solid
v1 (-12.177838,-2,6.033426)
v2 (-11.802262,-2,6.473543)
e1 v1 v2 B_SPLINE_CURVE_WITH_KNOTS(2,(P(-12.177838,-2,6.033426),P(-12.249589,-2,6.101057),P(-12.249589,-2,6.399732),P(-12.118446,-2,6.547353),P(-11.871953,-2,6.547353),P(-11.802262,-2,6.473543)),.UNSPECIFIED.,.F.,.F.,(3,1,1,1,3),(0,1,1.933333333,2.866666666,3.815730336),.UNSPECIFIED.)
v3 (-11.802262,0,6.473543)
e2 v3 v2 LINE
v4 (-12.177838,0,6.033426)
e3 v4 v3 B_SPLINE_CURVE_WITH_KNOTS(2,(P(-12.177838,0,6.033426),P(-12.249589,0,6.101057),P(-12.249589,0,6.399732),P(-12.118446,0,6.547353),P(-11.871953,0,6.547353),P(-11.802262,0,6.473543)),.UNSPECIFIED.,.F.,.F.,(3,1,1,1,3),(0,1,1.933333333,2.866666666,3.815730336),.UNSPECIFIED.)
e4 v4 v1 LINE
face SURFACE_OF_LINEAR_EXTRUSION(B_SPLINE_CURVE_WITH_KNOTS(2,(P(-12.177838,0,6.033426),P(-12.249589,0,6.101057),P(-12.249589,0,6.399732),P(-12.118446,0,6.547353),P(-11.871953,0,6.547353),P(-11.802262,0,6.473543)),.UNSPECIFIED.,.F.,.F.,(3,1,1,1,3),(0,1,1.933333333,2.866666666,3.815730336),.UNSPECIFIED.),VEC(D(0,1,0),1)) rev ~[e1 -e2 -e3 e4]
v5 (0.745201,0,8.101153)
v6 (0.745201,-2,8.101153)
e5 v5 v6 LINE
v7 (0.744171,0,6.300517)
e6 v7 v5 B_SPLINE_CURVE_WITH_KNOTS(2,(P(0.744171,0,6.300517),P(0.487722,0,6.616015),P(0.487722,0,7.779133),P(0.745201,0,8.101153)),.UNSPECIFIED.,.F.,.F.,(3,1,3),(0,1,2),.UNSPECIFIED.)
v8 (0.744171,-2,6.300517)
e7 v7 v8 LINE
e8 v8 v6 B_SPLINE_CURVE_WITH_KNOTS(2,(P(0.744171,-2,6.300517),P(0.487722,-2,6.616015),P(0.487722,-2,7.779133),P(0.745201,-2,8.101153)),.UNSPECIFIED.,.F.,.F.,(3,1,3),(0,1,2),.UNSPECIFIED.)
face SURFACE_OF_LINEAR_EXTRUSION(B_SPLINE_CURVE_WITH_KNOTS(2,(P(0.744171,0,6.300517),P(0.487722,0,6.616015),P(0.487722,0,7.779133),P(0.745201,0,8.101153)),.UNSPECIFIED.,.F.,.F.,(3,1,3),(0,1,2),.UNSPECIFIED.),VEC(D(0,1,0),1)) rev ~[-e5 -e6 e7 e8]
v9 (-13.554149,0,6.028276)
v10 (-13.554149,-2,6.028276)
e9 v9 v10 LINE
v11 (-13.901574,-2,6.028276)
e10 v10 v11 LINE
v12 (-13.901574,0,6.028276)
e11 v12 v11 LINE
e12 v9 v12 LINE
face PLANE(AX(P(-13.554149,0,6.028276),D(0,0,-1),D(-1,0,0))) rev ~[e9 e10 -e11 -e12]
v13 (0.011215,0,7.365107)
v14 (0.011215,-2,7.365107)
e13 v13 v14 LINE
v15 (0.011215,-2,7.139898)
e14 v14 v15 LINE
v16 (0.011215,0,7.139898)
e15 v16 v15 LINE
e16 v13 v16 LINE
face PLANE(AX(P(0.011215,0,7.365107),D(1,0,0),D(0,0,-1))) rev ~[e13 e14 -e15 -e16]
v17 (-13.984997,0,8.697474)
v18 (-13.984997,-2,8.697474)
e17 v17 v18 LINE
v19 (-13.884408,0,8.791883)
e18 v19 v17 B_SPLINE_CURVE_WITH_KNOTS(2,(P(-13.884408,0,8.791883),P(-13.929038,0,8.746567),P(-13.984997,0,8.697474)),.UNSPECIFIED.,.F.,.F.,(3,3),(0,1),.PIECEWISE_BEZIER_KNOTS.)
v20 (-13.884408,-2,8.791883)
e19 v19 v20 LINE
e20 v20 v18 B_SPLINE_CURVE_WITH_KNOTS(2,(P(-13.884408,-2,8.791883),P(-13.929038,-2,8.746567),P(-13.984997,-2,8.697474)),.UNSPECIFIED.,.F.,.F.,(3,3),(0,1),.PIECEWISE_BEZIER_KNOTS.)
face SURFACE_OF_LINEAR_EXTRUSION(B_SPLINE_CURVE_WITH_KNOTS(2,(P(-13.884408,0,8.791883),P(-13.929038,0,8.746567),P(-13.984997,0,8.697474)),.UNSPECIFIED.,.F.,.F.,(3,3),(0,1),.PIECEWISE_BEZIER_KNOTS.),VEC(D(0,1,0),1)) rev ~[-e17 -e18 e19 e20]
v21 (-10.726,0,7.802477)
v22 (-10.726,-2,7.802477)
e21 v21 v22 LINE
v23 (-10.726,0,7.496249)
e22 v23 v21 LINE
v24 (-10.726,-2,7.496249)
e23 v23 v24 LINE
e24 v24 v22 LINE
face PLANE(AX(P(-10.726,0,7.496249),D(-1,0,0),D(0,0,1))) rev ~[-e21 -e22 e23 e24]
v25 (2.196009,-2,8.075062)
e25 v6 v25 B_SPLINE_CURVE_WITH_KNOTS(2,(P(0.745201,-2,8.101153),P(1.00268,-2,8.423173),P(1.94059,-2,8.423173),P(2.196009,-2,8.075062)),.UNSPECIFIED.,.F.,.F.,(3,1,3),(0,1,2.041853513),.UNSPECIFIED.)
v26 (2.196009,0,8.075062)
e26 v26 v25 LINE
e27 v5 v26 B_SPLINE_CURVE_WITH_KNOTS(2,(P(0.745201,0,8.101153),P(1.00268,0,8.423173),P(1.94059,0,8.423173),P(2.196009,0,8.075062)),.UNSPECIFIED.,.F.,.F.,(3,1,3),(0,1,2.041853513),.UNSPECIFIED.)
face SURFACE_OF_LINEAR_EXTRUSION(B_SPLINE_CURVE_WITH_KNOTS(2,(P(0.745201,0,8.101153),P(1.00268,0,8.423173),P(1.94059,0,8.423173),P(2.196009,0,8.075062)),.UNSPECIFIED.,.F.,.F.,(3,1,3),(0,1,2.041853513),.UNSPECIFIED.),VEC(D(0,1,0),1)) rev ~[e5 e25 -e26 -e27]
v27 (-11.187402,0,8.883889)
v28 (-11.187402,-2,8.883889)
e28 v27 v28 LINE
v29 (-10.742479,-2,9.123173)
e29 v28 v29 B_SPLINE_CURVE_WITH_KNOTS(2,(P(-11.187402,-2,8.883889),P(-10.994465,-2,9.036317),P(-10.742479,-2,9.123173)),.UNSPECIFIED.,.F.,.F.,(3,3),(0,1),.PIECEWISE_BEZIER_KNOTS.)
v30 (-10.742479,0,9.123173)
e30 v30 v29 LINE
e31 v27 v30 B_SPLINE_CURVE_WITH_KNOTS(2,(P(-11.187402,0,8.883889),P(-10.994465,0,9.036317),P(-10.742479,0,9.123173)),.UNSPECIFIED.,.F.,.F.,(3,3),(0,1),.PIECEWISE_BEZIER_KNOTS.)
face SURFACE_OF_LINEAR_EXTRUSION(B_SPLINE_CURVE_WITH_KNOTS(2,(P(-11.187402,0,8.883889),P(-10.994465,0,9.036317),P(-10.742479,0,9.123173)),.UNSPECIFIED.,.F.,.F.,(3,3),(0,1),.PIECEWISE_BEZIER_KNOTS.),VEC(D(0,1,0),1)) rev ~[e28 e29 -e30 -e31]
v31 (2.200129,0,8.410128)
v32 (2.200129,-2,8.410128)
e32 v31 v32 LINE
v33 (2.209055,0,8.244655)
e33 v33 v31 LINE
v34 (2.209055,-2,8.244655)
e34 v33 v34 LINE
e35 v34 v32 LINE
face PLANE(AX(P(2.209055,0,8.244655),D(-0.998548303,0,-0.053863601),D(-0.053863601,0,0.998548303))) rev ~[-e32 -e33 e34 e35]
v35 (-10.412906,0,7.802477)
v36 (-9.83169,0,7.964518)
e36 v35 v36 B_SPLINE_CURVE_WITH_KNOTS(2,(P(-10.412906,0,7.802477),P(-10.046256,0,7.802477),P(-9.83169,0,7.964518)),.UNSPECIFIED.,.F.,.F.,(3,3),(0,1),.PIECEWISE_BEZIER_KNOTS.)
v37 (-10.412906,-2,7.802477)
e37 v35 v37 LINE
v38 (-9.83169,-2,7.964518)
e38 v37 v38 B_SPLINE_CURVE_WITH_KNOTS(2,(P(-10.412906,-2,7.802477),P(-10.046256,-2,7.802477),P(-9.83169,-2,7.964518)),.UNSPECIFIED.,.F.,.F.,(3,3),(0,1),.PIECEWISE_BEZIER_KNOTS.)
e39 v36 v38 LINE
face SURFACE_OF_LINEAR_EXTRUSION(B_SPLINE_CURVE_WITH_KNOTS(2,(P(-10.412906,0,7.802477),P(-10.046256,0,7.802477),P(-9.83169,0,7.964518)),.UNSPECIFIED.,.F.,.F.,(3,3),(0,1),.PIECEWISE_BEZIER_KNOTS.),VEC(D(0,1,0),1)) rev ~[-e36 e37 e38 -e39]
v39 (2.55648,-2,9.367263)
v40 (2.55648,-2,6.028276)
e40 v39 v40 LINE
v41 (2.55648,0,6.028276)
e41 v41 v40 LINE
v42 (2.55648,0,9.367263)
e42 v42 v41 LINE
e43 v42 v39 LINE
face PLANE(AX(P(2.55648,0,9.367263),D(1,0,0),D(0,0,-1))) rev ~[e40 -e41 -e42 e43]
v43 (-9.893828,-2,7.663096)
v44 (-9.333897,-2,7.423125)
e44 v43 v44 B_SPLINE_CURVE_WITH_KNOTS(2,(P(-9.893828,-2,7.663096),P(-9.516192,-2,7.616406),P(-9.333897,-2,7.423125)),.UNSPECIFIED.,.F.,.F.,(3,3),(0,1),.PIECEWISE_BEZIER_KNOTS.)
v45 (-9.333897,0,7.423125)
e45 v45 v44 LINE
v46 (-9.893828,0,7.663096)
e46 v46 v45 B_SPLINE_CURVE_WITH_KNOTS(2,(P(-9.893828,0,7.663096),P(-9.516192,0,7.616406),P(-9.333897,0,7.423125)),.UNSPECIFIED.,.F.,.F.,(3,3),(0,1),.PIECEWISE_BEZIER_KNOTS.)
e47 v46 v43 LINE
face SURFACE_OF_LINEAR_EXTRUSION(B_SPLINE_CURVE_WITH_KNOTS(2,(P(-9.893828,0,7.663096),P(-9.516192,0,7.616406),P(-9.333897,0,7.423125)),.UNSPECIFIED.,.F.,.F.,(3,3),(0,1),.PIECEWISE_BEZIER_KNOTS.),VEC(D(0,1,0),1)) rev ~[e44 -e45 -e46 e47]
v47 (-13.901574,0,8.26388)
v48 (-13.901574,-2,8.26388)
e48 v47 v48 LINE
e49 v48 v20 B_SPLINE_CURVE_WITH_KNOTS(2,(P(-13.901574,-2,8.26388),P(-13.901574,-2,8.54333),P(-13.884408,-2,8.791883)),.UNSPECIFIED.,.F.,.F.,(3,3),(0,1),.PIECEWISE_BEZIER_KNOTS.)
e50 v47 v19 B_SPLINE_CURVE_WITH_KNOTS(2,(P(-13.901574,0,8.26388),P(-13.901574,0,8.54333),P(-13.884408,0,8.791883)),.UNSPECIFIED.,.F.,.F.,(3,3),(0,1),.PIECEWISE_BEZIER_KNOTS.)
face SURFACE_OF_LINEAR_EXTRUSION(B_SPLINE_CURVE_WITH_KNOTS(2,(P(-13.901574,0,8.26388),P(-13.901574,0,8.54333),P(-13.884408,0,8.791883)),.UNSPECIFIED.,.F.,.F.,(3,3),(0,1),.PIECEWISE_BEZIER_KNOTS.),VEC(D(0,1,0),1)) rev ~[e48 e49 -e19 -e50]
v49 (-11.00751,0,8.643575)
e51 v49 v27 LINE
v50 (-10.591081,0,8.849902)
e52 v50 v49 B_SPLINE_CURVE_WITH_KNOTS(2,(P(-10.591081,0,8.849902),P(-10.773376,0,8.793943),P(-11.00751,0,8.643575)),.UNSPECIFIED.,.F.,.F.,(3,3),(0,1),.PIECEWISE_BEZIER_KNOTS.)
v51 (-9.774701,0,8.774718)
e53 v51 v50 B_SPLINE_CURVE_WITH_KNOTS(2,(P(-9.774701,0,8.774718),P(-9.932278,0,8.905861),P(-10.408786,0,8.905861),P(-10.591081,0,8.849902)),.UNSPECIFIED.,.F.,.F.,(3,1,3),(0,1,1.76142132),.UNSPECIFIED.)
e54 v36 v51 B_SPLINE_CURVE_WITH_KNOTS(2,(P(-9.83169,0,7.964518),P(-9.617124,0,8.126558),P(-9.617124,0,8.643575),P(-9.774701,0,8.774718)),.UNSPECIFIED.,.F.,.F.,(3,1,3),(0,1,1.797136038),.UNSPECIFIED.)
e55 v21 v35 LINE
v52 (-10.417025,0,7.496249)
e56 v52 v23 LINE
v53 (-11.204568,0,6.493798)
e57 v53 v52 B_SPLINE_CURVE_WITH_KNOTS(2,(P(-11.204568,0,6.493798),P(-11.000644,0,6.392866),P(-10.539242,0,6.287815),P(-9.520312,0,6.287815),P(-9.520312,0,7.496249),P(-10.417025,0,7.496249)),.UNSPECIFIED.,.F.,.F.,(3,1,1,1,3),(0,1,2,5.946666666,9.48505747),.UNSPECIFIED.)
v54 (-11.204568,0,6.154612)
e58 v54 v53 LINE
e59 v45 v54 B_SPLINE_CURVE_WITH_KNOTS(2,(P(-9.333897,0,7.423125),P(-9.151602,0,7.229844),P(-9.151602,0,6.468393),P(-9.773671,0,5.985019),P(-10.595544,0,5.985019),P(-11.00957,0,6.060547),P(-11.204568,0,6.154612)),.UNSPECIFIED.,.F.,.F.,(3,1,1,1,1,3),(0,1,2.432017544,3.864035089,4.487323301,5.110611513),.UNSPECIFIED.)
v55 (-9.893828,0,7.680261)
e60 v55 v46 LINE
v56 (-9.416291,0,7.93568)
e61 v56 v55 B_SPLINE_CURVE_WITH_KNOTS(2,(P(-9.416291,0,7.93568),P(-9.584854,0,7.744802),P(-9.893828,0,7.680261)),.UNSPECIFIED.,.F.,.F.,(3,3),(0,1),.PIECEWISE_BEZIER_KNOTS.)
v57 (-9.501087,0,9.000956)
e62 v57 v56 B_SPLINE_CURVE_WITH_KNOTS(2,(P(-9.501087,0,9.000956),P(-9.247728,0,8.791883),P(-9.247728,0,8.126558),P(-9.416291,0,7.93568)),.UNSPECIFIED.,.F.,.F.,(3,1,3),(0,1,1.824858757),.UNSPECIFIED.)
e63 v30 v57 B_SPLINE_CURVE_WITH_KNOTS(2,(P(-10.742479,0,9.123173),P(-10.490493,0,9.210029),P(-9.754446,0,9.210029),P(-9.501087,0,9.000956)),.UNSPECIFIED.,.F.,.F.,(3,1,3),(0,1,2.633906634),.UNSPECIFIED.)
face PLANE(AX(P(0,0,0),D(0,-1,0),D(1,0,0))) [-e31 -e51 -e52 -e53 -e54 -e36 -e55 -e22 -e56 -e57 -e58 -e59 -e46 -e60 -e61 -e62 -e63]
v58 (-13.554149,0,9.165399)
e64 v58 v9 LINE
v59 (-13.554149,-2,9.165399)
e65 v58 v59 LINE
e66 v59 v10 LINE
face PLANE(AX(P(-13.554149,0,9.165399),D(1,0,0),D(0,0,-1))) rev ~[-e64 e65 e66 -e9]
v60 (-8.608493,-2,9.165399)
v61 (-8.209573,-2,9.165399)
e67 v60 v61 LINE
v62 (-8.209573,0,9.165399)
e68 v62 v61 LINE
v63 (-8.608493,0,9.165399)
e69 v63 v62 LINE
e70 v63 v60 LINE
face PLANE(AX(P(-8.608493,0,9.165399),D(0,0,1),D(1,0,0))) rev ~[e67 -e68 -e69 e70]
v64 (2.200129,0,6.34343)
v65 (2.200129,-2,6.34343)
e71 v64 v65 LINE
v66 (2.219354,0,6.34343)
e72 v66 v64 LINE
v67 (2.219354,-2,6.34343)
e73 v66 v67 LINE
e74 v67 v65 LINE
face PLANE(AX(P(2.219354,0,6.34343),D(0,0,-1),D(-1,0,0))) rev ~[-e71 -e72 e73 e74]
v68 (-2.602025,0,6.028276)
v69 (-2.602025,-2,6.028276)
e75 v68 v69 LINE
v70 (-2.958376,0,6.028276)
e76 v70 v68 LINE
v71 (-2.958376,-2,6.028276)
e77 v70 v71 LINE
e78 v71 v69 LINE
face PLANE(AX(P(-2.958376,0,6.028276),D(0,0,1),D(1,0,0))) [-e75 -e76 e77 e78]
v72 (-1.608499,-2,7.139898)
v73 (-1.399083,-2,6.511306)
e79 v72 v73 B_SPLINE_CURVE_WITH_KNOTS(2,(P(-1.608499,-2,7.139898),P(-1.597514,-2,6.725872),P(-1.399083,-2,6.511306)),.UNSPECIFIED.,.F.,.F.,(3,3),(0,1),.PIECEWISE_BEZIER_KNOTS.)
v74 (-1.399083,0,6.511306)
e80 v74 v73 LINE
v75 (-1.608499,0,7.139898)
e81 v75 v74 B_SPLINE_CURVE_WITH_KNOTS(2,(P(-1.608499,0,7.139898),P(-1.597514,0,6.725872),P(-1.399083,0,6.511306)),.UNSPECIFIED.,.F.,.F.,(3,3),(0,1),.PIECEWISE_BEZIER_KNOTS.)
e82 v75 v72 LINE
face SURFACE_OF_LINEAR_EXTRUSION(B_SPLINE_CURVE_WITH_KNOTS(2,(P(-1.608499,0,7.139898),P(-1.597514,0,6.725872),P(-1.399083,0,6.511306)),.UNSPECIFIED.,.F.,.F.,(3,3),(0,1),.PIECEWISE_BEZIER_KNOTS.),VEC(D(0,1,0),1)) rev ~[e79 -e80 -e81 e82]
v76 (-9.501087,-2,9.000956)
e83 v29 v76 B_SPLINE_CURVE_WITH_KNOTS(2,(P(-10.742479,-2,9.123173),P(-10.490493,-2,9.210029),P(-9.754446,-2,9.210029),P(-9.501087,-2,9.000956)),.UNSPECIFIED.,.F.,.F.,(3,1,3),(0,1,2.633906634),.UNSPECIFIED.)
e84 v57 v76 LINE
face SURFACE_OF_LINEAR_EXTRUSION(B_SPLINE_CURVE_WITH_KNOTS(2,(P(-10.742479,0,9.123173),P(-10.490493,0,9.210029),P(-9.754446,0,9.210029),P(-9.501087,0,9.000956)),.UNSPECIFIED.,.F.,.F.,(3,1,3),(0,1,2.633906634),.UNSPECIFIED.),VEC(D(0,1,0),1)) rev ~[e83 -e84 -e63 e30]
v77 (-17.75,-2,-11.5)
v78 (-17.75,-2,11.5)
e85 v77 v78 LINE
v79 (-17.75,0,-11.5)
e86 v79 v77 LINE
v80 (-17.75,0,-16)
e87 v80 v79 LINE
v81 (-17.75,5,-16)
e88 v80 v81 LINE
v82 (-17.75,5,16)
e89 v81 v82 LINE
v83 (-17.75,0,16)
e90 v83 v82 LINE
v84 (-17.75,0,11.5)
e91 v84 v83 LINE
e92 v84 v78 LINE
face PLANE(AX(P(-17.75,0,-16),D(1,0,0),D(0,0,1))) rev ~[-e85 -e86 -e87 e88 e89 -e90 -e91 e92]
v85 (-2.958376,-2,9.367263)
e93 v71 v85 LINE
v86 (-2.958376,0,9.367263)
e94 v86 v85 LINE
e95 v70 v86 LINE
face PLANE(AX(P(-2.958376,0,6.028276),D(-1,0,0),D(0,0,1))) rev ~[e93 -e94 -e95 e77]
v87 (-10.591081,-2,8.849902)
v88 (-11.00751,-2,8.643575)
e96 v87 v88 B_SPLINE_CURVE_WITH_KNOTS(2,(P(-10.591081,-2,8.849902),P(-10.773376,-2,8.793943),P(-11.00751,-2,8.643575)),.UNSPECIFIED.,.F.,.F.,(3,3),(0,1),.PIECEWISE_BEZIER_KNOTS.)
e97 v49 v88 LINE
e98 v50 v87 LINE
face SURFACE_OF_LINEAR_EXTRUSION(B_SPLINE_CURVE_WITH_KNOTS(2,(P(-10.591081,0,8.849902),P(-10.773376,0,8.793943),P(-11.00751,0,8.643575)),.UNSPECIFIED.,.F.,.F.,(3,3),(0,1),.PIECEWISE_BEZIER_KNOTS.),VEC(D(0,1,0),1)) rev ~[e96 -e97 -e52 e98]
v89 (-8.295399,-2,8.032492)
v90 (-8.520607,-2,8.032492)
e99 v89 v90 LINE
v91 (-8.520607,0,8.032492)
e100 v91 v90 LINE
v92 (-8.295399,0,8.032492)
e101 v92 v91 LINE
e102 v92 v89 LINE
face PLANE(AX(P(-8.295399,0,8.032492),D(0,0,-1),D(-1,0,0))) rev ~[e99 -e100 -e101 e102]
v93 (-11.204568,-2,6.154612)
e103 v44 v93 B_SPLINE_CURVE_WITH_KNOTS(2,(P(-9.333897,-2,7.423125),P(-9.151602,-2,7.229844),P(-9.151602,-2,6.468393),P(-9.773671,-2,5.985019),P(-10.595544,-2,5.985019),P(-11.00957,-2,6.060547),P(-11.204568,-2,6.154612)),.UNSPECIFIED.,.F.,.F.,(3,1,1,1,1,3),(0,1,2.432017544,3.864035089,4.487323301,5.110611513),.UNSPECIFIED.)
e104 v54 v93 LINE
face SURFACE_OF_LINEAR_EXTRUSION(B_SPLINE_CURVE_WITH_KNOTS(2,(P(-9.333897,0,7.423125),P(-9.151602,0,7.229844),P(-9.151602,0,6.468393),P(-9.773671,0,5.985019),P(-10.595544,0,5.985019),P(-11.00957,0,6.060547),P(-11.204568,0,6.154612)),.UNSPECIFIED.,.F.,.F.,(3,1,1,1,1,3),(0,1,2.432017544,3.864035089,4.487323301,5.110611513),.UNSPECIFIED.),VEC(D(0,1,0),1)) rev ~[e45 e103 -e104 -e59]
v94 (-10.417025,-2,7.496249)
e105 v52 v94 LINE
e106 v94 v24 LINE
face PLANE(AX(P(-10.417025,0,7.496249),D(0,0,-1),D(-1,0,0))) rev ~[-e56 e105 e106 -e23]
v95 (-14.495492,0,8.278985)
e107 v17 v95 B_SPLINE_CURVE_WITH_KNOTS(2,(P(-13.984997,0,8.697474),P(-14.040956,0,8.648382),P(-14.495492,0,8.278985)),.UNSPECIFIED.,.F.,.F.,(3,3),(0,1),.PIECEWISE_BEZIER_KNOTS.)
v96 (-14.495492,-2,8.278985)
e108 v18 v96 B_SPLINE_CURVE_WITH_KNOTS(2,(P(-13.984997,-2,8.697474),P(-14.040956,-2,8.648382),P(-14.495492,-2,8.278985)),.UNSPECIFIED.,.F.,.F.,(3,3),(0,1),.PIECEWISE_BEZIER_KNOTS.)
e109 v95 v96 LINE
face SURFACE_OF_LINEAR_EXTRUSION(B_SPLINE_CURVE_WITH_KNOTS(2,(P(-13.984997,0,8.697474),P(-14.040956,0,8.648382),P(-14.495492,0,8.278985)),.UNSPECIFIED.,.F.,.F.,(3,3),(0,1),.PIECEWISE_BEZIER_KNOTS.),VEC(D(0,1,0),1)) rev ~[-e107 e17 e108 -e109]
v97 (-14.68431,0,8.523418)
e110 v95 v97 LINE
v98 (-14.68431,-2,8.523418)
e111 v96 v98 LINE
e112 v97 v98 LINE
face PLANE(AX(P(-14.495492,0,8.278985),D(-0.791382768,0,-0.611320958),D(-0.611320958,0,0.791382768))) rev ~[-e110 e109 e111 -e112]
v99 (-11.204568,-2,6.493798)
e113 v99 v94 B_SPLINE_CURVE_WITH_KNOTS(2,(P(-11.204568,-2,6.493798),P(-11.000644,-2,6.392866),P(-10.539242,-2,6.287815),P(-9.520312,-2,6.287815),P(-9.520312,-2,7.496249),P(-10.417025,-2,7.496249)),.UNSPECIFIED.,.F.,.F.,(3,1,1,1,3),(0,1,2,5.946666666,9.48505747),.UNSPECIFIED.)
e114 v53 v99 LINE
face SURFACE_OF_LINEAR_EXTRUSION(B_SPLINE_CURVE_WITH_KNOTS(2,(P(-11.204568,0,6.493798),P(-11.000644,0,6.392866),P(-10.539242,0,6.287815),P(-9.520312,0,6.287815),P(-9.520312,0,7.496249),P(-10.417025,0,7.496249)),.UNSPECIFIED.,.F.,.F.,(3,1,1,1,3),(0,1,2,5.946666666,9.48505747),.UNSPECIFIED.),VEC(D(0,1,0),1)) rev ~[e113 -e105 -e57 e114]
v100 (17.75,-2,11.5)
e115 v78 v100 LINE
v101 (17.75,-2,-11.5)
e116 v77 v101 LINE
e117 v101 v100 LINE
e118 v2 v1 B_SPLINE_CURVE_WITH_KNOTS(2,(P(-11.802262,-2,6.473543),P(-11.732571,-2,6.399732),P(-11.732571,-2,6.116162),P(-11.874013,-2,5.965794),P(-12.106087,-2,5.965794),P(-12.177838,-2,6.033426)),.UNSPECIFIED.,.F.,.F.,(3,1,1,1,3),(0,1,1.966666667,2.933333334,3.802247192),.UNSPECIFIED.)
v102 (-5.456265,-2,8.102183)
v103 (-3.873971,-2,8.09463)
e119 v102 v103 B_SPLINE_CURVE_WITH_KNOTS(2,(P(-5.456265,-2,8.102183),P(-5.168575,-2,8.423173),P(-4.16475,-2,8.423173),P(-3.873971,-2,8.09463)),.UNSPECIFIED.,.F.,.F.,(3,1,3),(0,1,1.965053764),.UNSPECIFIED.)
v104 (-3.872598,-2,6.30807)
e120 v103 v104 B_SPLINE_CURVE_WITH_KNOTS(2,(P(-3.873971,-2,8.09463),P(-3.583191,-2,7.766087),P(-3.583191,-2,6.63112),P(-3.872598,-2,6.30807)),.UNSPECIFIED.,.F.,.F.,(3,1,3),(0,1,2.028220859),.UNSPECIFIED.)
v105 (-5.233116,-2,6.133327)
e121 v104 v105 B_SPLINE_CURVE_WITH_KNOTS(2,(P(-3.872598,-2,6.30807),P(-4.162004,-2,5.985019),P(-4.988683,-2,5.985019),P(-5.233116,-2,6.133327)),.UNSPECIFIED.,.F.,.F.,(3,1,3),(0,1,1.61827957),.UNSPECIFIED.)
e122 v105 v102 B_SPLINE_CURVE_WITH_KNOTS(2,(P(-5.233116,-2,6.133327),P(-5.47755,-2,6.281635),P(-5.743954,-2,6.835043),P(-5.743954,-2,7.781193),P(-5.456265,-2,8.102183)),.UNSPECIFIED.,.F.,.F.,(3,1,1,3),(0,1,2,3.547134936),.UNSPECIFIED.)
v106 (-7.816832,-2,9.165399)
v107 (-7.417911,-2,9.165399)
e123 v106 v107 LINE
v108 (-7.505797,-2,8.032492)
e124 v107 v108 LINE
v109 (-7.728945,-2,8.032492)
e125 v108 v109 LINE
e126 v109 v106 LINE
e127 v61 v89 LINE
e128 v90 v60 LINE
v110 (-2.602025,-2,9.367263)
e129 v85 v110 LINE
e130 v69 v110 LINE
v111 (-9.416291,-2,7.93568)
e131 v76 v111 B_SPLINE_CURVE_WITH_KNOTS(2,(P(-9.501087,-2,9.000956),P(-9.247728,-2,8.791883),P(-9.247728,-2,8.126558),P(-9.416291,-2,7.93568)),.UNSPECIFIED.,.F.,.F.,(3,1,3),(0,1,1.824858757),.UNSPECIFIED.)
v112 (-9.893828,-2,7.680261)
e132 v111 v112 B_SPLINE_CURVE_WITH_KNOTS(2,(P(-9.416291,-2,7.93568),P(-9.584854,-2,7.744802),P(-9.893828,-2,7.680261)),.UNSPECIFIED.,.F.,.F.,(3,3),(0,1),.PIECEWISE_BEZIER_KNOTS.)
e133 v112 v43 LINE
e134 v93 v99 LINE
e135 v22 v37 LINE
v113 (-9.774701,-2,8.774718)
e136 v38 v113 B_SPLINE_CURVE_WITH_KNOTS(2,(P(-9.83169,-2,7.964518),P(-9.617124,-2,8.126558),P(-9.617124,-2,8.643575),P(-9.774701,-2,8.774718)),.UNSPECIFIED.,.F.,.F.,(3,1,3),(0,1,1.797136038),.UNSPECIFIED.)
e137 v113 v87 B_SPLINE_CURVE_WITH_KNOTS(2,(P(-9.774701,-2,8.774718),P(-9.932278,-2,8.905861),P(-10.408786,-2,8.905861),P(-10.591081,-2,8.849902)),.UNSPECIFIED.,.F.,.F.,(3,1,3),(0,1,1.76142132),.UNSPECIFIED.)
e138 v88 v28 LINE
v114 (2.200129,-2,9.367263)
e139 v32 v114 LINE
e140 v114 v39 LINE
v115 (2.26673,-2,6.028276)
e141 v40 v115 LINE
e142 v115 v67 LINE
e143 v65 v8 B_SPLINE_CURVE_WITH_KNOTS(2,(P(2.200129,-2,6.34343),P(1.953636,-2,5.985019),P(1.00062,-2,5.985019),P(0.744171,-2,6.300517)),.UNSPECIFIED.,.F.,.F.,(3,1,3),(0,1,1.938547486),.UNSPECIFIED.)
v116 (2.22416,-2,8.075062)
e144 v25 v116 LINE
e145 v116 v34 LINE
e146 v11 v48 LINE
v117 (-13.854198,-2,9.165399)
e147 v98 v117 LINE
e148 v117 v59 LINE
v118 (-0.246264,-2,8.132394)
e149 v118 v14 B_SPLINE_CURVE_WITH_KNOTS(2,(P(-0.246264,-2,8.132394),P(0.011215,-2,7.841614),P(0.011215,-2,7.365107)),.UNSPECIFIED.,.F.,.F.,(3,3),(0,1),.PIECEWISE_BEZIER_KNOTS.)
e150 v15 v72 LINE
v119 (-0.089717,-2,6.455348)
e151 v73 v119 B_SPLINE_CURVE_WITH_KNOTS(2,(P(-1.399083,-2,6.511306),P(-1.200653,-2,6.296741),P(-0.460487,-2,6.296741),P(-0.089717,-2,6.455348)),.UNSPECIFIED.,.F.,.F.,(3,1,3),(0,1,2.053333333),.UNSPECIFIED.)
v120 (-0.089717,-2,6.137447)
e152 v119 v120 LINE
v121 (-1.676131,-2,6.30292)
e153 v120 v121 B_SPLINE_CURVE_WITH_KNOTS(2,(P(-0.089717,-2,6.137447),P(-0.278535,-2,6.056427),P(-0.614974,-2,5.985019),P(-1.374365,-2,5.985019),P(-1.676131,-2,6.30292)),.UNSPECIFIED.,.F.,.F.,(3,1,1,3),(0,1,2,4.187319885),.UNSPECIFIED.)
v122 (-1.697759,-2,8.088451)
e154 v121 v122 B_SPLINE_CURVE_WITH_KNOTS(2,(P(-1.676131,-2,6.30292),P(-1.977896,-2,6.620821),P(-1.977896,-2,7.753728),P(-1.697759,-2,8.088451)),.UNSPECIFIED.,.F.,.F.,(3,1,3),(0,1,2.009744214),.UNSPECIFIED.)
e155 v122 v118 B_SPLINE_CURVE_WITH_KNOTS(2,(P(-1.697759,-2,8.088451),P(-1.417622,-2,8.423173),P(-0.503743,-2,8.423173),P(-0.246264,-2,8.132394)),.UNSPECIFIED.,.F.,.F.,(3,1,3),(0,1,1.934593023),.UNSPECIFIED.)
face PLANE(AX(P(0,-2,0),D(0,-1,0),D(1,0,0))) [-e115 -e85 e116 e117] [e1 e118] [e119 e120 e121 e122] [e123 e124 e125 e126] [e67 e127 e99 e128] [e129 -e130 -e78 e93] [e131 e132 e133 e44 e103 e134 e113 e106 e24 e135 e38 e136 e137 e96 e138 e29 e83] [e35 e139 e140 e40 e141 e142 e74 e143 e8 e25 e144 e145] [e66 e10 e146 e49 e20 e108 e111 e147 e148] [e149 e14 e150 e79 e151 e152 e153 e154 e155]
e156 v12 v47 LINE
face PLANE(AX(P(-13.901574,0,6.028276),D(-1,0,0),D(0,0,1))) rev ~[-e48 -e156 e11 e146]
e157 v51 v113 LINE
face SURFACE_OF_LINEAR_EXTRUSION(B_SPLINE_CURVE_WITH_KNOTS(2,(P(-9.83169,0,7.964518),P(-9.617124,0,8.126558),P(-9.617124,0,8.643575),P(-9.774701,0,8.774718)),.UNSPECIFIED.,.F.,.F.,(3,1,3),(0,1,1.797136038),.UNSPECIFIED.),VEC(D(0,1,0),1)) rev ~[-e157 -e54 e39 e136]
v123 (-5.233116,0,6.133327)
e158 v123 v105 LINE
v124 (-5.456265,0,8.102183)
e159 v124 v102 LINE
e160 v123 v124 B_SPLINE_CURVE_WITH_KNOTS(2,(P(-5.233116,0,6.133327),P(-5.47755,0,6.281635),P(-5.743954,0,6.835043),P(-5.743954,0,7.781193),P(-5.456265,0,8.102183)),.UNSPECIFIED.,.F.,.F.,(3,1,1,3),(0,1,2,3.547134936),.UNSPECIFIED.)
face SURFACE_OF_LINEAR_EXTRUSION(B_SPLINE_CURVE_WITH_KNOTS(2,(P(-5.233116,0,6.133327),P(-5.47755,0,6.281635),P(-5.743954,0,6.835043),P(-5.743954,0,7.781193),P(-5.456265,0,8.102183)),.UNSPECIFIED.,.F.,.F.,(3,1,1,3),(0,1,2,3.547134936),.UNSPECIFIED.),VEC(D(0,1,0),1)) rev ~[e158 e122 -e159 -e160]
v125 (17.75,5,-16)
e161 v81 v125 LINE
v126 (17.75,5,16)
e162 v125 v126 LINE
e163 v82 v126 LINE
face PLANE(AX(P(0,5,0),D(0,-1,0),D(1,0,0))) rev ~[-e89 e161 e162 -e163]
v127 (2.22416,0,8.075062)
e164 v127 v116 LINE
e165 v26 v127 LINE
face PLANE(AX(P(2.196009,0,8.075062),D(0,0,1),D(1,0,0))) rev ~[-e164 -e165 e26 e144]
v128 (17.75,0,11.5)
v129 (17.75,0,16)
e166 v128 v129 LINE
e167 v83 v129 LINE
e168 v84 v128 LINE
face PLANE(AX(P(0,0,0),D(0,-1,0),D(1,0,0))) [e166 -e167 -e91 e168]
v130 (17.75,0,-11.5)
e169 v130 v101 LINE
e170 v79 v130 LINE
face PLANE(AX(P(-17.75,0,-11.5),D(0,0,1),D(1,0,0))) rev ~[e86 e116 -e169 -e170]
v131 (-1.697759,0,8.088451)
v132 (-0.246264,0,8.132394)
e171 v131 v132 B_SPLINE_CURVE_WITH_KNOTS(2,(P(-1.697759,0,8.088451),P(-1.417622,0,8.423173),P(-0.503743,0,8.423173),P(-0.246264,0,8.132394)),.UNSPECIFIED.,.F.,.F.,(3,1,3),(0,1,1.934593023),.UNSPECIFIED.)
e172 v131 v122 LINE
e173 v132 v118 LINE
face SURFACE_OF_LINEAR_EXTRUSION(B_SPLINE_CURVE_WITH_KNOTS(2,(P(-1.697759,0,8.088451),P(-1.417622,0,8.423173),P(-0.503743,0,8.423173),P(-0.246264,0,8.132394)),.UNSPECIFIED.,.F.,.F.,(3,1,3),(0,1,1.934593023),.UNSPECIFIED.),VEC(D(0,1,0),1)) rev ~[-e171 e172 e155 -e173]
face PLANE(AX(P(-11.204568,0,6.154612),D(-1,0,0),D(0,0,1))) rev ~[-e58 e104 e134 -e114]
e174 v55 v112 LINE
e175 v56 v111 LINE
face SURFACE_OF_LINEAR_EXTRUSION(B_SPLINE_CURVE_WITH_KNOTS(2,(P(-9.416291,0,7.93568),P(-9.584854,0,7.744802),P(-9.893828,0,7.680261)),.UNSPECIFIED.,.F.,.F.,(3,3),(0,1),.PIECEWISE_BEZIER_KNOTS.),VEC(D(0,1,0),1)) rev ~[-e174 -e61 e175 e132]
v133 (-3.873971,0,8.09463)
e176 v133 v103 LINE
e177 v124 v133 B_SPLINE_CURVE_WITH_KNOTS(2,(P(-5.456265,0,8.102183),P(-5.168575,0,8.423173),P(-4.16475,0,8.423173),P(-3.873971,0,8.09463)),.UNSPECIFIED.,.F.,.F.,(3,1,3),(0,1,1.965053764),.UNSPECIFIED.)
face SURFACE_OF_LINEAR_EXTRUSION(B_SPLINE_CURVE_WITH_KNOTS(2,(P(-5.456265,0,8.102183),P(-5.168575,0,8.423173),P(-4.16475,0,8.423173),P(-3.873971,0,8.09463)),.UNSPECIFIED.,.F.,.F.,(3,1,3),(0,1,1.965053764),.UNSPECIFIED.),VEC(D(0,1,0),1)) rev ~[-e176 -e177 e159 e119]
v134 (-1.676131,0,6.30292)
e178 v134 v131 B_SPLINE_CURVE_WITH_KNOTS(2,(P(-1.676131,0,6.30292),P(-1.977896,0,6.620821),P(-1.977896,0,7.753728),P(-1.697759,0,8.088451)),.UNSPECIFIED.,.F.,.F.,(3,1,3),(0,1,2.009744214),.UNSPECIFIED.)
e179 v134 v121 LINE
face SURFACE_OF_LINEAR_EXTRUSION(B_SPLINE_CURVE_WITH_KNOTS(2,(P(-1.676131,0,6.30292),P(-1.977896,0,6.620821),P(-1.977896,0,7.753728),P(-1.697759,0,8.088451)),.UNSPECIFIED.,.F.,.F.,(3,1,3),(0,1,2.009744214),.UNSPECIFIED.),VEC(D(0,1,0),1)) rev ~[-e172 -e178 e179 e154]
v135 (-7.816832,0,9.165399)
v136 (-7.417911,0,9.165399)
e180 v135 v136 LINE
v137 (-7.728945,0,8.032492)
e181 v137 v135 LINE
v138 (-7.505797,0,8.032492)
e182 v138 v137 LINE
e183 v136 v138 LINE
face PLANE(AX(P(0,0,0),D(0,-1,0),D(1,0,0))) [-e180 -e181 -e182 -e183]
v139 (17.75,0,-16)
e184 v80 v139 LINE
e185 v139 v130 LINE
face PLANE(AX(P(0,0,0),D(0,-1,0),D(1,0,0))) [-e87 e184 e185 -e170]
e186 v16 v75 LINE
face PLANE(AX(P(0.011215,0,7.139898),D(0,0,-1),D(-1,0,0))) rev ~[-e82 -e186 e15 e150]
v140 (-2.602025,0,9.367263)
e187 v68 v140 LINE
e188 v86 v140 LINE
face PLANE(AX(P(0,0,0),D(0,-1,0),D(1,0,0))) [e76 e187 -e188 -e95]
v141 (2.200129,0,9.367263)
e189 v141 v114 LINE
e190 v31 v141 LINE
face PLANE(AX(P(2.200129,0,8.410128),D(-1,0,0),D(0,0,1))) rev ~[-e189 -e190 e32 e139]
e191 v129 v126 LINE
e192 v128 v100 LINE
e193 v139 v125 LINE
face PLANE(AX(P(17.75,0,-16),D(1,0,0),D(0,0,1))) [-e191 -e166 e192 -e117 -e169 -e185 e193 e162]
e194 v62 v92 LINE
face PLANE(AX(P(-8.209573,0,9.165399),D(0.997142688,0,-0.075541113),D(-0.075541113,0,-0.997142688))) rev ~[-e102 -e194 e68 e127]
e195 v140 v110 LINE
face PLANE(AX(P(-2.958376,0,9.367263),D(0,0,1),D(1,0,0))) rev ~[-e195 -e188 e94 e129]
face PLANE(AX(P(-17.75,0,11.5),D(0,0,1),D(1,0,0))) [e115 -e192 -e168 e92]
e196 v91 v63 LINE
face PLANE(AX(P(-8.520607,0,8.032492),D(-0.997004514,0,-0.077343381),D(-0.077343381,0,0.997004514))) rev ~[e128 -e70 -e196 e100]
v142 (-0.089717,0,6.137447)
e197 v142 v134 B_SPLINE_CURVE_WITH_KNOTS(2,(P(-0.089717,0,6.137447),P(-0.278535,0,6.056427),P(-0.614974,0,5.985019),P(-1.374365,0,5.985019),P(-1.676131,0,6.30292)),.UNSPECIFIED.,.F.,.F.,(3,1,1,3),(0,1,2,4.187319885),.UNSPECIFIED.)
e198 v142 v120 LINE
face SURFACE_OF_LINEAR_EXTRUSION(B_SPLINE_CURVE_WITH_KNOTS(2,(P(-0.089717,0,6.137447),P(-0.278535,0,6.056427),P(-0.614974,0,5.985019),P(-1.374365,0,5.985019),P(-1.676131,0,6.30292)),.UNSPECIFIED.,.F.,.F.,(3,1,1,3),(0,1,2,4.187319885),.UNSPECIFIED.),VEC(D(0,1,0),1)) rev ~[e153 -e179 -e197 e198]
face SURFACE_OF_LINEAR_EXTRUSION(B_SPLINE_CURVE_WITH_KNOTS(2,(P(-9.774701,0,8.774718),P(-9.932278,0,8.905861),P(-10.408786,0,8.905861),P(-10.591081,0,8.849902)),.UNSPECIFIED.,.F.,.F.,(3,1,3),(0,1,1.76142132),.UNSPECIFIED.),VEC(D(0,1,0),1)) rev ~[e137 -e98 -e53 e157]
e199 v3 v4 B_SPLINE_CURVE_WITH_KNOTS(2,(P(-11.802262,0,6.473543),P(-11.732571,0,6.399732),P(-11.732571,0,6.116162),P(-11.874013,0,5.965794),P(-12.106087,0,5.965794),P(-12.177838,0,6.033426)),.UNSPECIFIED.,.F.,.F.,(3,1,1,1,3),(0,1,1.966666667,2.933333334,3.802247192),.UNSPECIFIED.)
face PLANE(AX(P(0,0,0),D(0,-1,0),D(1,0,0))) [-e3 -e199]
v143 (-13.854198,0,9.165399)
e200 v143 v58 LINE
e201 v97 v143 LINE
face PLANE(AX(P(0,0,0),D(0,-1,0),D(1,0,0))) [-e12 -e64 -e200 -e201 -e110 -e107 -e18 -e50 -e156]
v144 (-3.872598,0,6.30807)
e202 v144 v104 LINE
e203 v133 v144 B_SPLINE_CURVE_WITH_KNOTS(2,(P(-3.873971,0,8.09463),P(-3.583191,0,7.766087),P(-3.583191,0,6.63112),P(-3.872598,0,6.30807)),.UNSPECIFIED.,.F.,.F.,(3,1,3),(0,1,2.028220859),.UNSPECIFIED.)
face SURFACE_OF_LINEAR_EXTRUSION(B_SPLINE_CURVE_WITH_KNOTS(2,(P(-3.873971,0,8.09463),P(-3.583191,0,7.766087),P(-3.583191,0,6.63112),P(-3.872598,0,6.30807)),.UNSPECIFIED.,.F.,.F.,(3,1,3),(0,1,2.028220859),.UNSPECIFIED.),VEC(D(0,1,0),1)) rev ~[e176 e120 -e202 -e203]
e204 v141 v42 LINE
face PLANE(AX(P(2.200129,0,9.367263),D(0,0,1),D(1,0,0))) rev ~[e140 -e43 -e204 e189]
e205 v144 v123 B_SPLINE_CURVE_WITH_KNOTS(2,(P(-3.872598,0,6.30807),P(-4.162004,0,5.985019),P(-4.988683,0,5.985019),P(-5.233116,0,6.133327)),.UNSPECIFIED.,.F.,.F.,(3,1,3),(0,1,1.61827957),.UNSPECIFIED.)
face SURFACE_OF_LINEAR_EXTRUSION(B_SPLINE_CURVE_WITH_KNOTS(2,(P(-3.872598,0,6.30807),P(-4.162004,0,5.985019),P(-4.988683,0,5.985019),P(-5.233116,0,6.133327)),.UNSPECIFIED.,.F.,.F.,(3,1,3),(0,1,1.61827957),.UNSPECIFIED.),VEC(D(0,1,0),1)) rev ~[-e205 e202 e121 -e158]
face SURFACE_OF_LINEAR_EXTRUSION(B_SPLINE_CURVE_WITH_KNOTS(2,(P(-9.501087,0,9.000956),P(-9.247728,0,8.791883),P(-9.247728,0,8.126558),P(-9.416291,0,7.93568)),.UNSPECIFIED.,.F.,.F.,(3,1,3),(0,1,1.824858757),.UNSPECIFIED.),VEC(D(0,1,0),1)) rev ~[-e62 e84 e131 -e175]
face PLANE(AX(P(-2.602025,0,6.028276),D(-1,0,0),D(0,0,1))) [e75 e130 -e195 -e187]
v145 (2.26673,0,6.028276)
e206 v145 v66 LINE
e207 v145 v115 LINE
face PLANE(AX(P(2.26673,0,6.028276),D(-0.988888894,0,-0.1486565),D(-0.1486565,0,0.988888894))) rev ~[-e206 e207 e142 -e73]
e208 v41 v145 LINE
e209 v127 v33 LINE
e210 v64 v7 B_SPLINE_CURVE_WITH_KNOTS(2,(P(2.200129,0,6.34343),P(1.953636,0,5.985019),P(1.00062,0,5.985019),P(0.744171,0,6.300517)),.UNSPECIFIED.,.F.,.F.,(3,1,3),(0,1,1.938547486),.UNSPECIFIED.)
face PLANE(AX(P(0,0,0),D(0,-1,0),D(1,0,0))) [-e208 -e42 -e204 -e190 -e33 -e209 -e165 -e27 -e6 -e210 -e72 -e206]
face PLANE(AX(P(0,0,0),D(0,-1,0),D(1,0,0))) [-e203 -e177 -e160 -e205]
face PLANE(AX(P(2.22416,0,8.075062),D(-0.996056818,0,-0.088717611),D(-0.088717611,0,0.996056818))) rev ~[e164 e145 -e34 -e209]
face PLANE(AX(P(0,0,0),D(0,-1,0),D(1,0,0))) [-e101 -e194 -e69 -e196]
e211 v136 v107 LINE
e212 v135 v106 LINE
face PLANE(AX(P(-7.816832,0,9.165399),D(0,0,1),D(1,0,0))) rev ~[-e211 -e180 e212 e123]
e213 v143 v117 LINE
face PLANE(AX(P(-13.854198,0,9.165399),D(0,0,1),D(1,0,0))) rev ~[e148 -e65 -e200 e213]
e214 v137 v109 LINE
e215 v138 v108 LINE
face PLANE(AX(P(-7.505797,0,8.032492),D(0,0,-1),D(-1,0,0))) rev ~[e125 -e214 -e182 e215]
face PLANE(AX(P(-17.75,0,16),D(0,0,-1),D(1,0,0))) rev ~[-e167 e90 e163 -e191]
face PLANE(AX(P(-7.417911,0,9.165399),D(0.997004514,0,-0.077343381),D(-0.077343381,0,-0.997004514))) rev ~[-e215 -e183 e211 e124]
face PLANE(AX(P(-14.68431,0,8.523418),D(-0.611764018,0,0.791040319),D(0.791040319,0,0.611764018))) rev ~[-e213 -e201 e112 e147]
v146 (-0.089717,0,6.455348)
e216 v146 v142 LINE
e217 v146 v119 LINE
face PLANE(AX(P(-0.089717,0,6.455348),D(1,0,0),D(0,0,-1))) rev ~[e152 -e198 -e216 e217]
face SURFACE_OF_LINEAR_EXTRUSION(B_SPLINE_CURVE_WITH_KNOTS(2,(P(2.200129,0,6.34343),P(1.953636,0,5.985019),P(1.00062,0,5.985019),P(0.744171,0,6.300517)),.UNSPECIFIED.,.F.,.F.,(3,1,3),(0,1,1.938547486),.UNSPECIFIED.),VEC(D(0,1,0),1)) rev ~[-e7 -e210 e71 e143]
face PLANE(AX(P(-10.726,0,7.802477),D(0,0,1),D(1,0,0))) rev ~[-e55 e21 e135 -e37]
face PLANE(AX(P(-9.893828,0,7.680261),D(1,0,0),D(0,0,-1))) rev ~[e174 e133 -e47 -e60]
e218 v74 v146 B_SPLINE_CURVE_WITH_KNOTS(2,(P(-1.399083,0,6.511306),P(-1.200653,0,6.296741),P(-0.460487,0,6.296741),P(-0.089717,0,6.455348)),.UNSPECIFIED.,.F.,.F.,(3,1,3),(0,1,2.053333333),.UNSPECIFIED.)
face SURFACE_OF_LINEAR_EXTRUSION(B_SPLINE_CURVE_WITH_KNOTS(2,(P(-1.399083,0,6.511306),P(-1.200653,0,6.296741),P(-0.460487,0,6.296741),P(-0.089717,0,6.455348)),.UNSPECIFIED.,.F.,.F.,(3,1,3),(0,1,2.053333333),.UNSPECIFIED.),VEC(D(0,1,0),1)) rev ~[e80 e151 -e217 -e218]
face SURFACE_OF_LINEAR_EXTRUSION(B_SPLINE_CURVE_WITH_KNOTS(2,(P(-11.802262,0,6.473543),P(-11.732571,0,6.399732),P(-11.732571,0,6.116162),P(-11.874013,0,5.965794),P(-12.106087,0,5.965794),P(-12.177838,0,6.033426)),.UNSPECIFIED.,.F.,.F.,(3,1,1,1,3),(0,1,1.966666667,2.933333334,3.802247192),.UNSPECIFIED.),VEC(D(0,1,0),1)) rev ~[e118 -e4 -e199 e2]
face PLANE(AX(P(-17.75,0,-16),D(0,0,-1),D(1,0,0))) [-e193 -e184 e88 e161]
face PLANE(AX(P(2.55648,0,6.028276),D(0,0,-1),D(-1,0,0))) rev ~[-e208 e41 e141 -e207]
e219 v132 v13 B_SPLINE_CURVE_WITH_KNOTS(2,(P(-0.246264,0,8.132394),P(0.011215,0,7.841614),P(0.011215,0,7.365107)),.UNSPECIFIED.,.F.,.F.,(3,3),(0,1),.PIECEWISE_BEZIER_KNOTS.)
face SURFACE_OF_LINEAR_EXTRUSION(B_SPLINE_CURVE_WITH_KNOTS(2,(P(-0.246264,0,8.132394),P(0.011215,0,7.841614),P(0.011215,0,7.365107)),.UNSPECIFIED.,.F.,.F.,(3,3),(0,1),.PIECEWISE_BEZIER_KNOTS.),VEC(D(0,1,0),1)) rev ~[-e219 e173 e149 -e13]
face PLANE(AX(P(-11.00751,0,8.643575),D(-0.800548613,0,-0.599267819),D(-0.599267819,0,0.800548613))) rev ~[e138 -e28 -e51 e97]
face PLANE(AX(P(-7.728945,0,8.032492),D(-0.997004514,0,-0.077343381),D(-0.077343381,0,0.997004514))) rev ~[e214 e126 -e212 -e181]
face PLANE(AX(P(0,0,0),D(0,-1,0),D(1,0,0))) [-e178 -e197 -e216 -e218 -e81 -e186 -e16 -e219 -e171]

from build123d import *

# Parameters (mm, degrees)
F0_W     = 35.5
F0_H     = 23
F0_W_2   = 0.3563508465
F0_H_2   = 3.3389868337
F1_DEPTH = 2
F2_W     = 35.5
F2_H     = 32
F3_DEPTH = 5


with BuildPart() as f1:
    # F0 (on Front) → F1 (new body)
    with BuildSketch(Plane.XZ):
        Rectangle(F0_W, F0_H)
        with BuildLine():
            Line((-13.5541488121, 9.1653992852), (-13.5541488121, 6.0282759368))
            Line((-13.5541488121, 6.0282759368), (-13.9015737223, 6.0282759368))
            Line((-13.9015737223, 6.0282759368), (-13.9015737223, 8.2638797062))
            add(Edge.make_bspline(
                [(-13.9015737223, 8.2638797062), (-13.9015737223, 8.5433301774), (-13.8844084599, 8.7918831763)],
                knots=[0, 0, 0, 1, 1, 1], degree=2))
            add(Edge.make_bspline(
                [(-13.8844084599, 8.7918831763), (-13.929038142, 8.7465668837), (-13.9849968973, 8.6974742334)],
                knots=[0, 0, 0, 1, 1, 1], degree=2))
            add(Edge.make_bspline(
                [(-13.9849968973, 8.6974742334), (-14.0409556526, 8.648381583), (-14.4954917998, 8.2789851371)],
                knots=[0, 0, 0, 1, 1, 1], degree=2))
            Line((-14.4954917998, 8.2789851371), (-14.6843096857, 8.5234184731))
            Line((-14.6843096857, 8.5234184731), (-13.8541975981, 9.1653992852))
            Line((-13.8541975981, 9.1653992852), (-13.5541488121, 9.1653992852))
        make_face(mode=Mode.SUBTRACT)
        with BuildLine():
            add(Edge.make_bspline(
                [(-12.1778380763, 6.0334255155), (-12.249588873, 6.1010566492), (-12.249588873, 6.2555440105)],
                knots=[0, 0, 0, 1, 1, 1], degree=2))
            add(Edge.make_bspline(
                [(-12.249588873, 6.2555440105), (-12.249588873, 6.3997322143), (-12.1840175708, 6.4735428424)],
                knots=[0, 0, 0, 1, 1, 1], degree=2))
            add(Edge.make_bspline(
                [(-12.1840175708, 6.4735428424), (-12.1184462686, 6.5473534705), (-11.9962296006, 6.5473534705)],
                knots=[0, 0, 0, 1, 1, 1], degree=2))
            add(Edge.make_bspline(
                [(-11.9962296006, 6.5473534705), (-11.8719531011, 6.5473534705), (-11.802262136, 6.4735428424)],
                knots=[0, 0, 0, 1, 1, 1], degree=2))
            add(Edge.make_bspline(
                [(-11.802262136, 6.4735428424), (-11.7325711708, 6.3997322143), (-11.7325711708, 6.2555440105)],
                knots=[0, 0, 0, 1, 1, 1], degree=2))
            add(Edge.make_bspline(
                [(-11.7325711708, 6.2555440105), (-11.7325711708, 6.1161620801), (-11.8032920517, 6.040978231)],
                knots=[0, 0, 0, 1, 1, 1], degree=2))
            add(Edge.make_bspline(
                [(-11.8032920517, 6.040978231), (-11.8740129326, 5.9657943819), (-11.9962296006, 5.9657943819)],
                knots=[0, 0, 0, 1, 1, 1], degree=2))
            add(Edge.make_bspline(
                [(-11.9962296006, 5.9657943819), (-12.1060872797, 5.9657943819), (-12.1778380763, 6.0334255155)],
                knots=[0, 0, 0, 1, 1, 1], degree=2))
        make_face(mode=Mode.SUBTRACT)
        with BuildLine():
            add(Edge.make_bspline(
                [(-9.5010870644, 9.0009560719), (-9.247727792, 8.7918831763), (-9.247727792, 8.4272930039)],
                knots=[0, 0, 0, 1, 1, 1], degree=2))
            add(Edge.make_bspline(
                [(-9.247727792, 8.4272930039), (-9.247727792, 8.1265576074), (-9.4162906683, 7.93567989)],
                knots=[0, 0, 0, 1, 1, 1], degree=2))
            add(Edge.make_bspline(
                [(-9.4162906683, 7.93567989), (-9.5848535447, 7.7448021726), (-9.8938282671, 7.6802607861)],
                knots=[0, 0, 0, 1, 1, 1], degree=2))
            Line((-9.8938282671, 7.6802607861), (-9.8938282671, 7.6630955237))
            add(Edge.make_bspline(
                [(-9.8938282671, 7.6630955237), (-9.5161924952, 7.6164060101), (-9.333897409, 7.423125156)],
                knots=[0, 0, 0, 1, 1, 1], degree=2))
            add(Edge.make_bspline(
                [(-9.333897409, 7.423125156), (-9.1516023228, 7.2298443018), (-9.1516023228, 6.9167499165)],
                knots=[0, 0, 0, 1, 1, 1], degree=2))
            add(Edge.make_bspline(
                [(-9.1516023228, 6.9167499165), (-9.1516023228, 6.4683932637), (-9.4626368767, 6.2267063697)],
                knots=[0, 0, 0, 1, 1, 1], degree=2))
            add(Edge.make_bspline(
                [(-9.4626368767, 6.2267063697), (-9.7736714306, 5.9850194757), (-10.3463045828, 5.9850194757)],
                knots=[0, 0, 0, 1, 1, 1], degree=2))
            add(Edge.make_bspline(
                [(-10.3463045828, 5.9850194757), (-10.5955441923, 5.9850194757), (-10.8025572563, 6.0227830529)],
                knots=[0, 0, 0, 1, 1, 1], degree=2))
            add(Edge.make_bspline(
                [(-10.8025572563, 6.0227830529), (-11.0095703203, 6.0605466301), (-11.2045677007, 6.1546122678)],
                knots=[0, 0, 0, 1, 1, 1], degree=2))
            Line((-11.2045677007, 6.1546122678), (-11.2045677007, 6.493797852))
            add(Edge.make_bspline(
                [(-11.2045677007, 6.493797852), (-11.0006443839, 6.3928661093), (-10.7699432578, 6.3403404065)],
                knots=[0, 0, 0, 1, 1, 1], degree=2))
            add(Edge.make_bspline(
                [(-10.7699432578, 6.3403404065), (-10.5392421317, 6.2878147037), (-10.3332589834, 6.2878147037)],
                knots=[0, 0, 0, 1, 1, 1], degree=2))
            add(Edge.make_bspline(
                [(-10.3332589834, 6.2878147037), (-9.5203121582, 6.2878147037), (-9.5203121582, 6.9249892424)],
                knots=[0, 0, 0, 1, 1, 1], degree=2))
            add(Edge.make_bspline(
                [(-9.5203121582, 6.9249892424), (-9.5203121582, 7.4962491736), (-10.4170254637, 7.4962491736)],
                knots=[0, 0, 0, 1, 1, 1], degree=2))
            Line((-10.4170254637, 7.4962491736), (-10.7260001862, 7.4962491736))
            Line((-10.7260001862, 7.4962491736), (-10.7260001862, 7.8024774541))
            Line((-10.7260001862, 7.8024774541), (-10.4129058008, 7.8024774541))
            add(Edge.make_bspline(
                [(-10.4129058008, 7.8024774541), (-10.0462557968, 7.8024774541), (-9.8316900174, 7.9645175307)],
                knots=[0, 0, 0, 1, 1, 1], degree=2))
            add(Edge.make_bspline(
                [(-9.8316900174, 7.9645175307), (-9.6171242379, 8.1265576074), (-9.6171242379, 8.4142474045)],
                knots=[0, 0, 0, 1, 1, 1], degree=2))
            add(Edge.make_bspline(
                [(-9.6171242379, 8.4142474045), (-9.6171242379, 8.6435753096), (-9.7747013463, 8.774717914)],
                knots=[0, 0, 0, 1, 1, 1], degree=2))
            add(Edge.make_bspline(
                [(-9.7747013463, 8.774717914), (-9.9322784548, 8.9058605184), (-10.2028029895, 8.9058605184)],
                knots=[0, 0, 0, 1, 1, 1], degree=2))
            add(Edge.make_bspline(
                [(-10.2028029895, 8.9058605184), (-10.4087861378, 8.9058605184), (-10.591081224, 8.8499017631)],
                knots=[0, 0, 0, 1, 1, 1], degree=2))
            add(Edge.make_bspline(
                [(-10.591081224, 8.8499017631), (-10.7733763103, 8.7939430078), (-11.0075104888, 8.6435753096)],
                knots=[0, 0, 0, 1, 1, 1], degree=2))
            Line((-11.0075104888, 8.6435753096), (-11.1874024383, 8.8838889826))
            add(Edge.make_bspline(
                [(-11.1874024383, 8.8838889826), (-10.9944648894, 9.0363165123), (-10.742478838, 9.1231727398)],
                knots=[0, 0, 0, 1, 1, 1], degree=2))
            add(Edge.make_bspline(
                [(-10.742478838, 9.1231727398), (-10.4904927866, 9.2100289674), (-10.2110423155, 9.2100289674)],
                knots=[0, 0, 0, 1, 1, 1], degree=2))
            add(Edge.make_bspline(
                [(-10.2110423155, 9.2100289674), (-9.7544463368, 9.2100289674), (-9.5010870644, 9.0009560719)],
                knots=[0, 0, 0, 1, 1, 1], degree=2))
        make_face(mode=Mode.SUBTRACT)
        Polygon((-8.6084934218, 9.1653992852), (-8.2095727246, 9.1653992852), (-8.2953990364, 8.0324919697), (-8.5206072785, 8.0324919697), align=None, mode=Mode.SUBTRACT)
        Polygon((-7.8168315219, 9.1653992852), (-7.4179108247, 9.1653992852), (-7.505796968, 8.0324919697), (-7.7289453786, 8.0324919697), align=None, mode=Mode.SUBTRACT)
        with BuildLine():
            add(Edge.make_bspline(
                [(-3.8739707584, 8.0946302194), (-3.5831912141, 7.7660870979), (-3.5831912141, 7.206499545)],
                knots=[0, 0, 0, 1, 1, 1], degree=2))
            add(Edge.make_bspline(
                [(-3.5831912141, 7.206499545), (-3.5831912141, 6.6311199508), (-3.8725975374, 6.3080697133)],
                knots=[0, 0, 0, 1, 1, 1], degree=2))
            add(Edge.make_bspline(
                [(-3.8725975374, 6.3080697133), (-4.1620038608, 5.9850194757), (-4.6728420685, 5.9850194757)],
                knots=[0, 0, 0, 1, 1, 1], degree=2))
            add(Edge.make_bspline(
                [(-4.6728420685, 5.9850194757), (-4.9886828959, 5.9850194757), (-5.2331162319, 6.1333273425)],
                knots=[0, 0, 0, 1, 1, 1], degree=2))
            add(Edge.make_bspline(
                [(-5.2331162319, 6.1333273425), (-5.4775495678, 6.2816352092), (-5.6107520037, 6.5583392384)],
                knots=[0, 0, 0, 1, 1, 1], degree=2))
            add(Edge.make_bspline(
                [(-5.6107520037, 6.5583392384), (-5.7439544396, 6.8350432676), (-5.7439544396, 7.206499545)],
                knots=[0, 0, 0, 1, 1, 1], degree=2))
            add(Edge.make_bspline(
                [(-5.7439544396, 7.206499545), (-5.7439544396, 7.7811925288), (-5.4562646425, 8.1021829348)],
                knots=[0, 0, 0, 1, 1, 1], degree=2))
            add(Edge.make_bspline(
                [(-5.4562646425, 8.1021829348), (-5.1685748454, 8.4231733409), (-4.6577366377, 8.4231733409)],
                knots=[0, 0, 0, 1, 1, 1], degree=2))
            add(Edge.make_bspline(
                [(-4.6577366377, 8.4231733409), (-4.1647503028, 8.4231733409), (-3.8739707584, 8.0946302194)],
                knots=[0, 0, 0, 1, 1, 1], degree=2))
        make_face(mode=Mode.SUBTRACT)
        with Locations((-2.780200241, 7.6977693537)):
            Rectangle(F0_W_2, F0_H_2, mode=Mode.SUBTRACT)
        with BuildLine():
            add(Edge.make_bspline(
                [(-0.4467544762, 6.0207232214), (-0.6149740473, 5.9850194757), (-0.8532278888, 5.9850194757)],
                knots=[0, 0, 0, 1, 1, 1], degree=2))
            add(Edge.make_bspline(
                [(-0.8532278888, 5.9850194757), (-1.374365254, 5.9850194757), (-1.6761305662, 6.3029201346)],
                knots=[0, 0, 0, 1, 1, 1], degree=2))
            add(Edge.make_bspline(
                [(-1.6761305662, 6.3029201346), (-1.9778958785, 6.6208207934), (-1.9778958785, 7.1845280092)],
                knots=[0, 0, 0, 1, 1, 1], degree=2))
            add(Edge.make_bspline(
                [(-1.9778958785, 7.1845280092), (-1.9778958785, 7.753728109), (-1.6977587968, 8.088450725)],
                knots=[0, 0, 0, 1, 1, 1], degree=2))
            add(Edge.make_bspline(
                [(-1.6977587968, 8.088450725), (-1.4176217151, 8.4231733409), (-0.945233695, 8.4231733409)],
                knots=[0, 0, 0, 1, 1, 1], degree=2))
            add(Edge.make_bspline(
                [(-0.945233695, 8.4231733409), (-0.5037431472, 8.4231733409), (-0.2462642119, 8.1323937966)],
                knots=[0, 0, 0, 1, 1, 1], degree=2))
            add(Edge.make_bspline(
                [(-0.2462642119, 8.1323937966), (0.0112147235, 7.8416142523), (0.0112147235, 7.3651065692)],
                knots=[0, 0, 0, 1, 1, 1], degree=2))
            Line((0.0112147235, 7.3651065692), (0.0112147235, 7.1398983271))
            Line((0.0112147235, 7.1398983271), (-1.6084994325, 7.1398983271))
            add(Edge.make_bspline(
                [(-1.6084994325, 7.1398983271), (-1.5975136646, 6.725872199), (-1.3990832318, 6.5113064196)],
                knots=[0, 0, 0, 1, 1, 1], degree=2))
            add(Edge.make_bspline(
                [(-1.3990832318, 6.5113064196), (-1.2006527989, 6.2967406401), (-0.8401822894, 6.2967406401)],
                knots=[0, 0, 0, 1, 1, 1], degree=2))
            add(Edge.make_bspline(
                [(-0.8401822894, 6.2967406401), (-0.4604866861, 6.2967406401), (-0.0897170192, 6.4553476643)],
                knots=[0, 0, 0, 1, 1, 1], degree=2))
            Line((-0.0897170192, 6.4553476643), (-0.0897170192, 6.1374470054))
            add(Edge.make_bspline(
                [(-0.0897170192, 6.1374470054), (-0.2785349051, 6.0564269671), (-0.4467544762, 6.0207232214)],
                knots=[0, 0, 0, 1, 1, 1], degree=2))
        make_face(mode=Mode.SUBTRACT)
        with BuildLine():
            Line((2.2667301972, 6.0282759368), (2.2193540731, 6.3434301537))
            Line((2.2193540731, 6.3434301537), (2.2001289793, 6.3434301537))
            add(Edge.make_bspline(
                [(2.2001289793, 6.3434301537), (1.9536358118, 5.9850194757), (1.4620226979, 5.9850194757)],
                knots=[0, 0, 0, 1, 1, 1], degree=2))
            add(Edge.make_bspline(
                [(1.4620226979, 5.9850194757), (1.0006204458, 5.9850194757), (0.7441714262, 6.3005169978)],
                knots=[0, 0, 0, 1, 1, 1], degree=2))
            add(Edge.make_bspline(
                [(0.7441714262, 6.3005169978), (0.4877224065, 6.61601452), (0.4877224065, 7.1975736086)],
                knots=[0, 0, 0, 1, 1, 1], degree=2))
            add(Edge.make_bspline(
                [(0.4877224065, 7.1975736086), (0.4877224065, 7.7791326973), (0.7452013419, 8.1011530191)],
                knots=[0, 0, 0, 1, 1, 1], degree=2))
            add(Edge.make_bspline(
                [(0.7452013419, 8.1011530191), (1.0026802772, 8.4231733409), (1.4620226979, 8.4231733409)],
                knots=[0, 0, 0, 1, 1, 1], degree=2))
            add(Edge.make_bspline(
                [(1.4620226979, 8.4231733409), (1.9405902124, 8.4231733409), (2.1960093163, 8.0750618203)],
                knots=[0, 0, 0, 1, 1, 1], degree=2))
            Line((2.1960093163, 8.0750618203), (2.2241603466, 8.0750618203))
            Line((2.2241603466, 8.0750618203), (2.2090549157, 8.2446546124))
            Line((2.2090549157, 8.2446546124), (2.2001289793, 8.4101277415))
            Line((2.2001289793, 8.4101277415), (2.2001289793, 9.3672627706))
            Line((2.2001289793, 9.3672627706), (2.5564798258, 9.3672627706))
            Line((2.5564798258, 9.3672627706), (2.5564798258, 6.0282759368))
            Line((2.5564798258, 6.0282759368), (2.2667301972, 6.0282759368))
        make_face(mode=Mode.SUBTRACT)
    extrude(amount=F1_DEPTH)

    # F2 (on Front) → F3 (join)
    with BuildSketch(Plane.XZ):
        Rectangle(F2_W, F2_H)
    extrude(amount=-F3_DEPTH)


solid = f1.part
